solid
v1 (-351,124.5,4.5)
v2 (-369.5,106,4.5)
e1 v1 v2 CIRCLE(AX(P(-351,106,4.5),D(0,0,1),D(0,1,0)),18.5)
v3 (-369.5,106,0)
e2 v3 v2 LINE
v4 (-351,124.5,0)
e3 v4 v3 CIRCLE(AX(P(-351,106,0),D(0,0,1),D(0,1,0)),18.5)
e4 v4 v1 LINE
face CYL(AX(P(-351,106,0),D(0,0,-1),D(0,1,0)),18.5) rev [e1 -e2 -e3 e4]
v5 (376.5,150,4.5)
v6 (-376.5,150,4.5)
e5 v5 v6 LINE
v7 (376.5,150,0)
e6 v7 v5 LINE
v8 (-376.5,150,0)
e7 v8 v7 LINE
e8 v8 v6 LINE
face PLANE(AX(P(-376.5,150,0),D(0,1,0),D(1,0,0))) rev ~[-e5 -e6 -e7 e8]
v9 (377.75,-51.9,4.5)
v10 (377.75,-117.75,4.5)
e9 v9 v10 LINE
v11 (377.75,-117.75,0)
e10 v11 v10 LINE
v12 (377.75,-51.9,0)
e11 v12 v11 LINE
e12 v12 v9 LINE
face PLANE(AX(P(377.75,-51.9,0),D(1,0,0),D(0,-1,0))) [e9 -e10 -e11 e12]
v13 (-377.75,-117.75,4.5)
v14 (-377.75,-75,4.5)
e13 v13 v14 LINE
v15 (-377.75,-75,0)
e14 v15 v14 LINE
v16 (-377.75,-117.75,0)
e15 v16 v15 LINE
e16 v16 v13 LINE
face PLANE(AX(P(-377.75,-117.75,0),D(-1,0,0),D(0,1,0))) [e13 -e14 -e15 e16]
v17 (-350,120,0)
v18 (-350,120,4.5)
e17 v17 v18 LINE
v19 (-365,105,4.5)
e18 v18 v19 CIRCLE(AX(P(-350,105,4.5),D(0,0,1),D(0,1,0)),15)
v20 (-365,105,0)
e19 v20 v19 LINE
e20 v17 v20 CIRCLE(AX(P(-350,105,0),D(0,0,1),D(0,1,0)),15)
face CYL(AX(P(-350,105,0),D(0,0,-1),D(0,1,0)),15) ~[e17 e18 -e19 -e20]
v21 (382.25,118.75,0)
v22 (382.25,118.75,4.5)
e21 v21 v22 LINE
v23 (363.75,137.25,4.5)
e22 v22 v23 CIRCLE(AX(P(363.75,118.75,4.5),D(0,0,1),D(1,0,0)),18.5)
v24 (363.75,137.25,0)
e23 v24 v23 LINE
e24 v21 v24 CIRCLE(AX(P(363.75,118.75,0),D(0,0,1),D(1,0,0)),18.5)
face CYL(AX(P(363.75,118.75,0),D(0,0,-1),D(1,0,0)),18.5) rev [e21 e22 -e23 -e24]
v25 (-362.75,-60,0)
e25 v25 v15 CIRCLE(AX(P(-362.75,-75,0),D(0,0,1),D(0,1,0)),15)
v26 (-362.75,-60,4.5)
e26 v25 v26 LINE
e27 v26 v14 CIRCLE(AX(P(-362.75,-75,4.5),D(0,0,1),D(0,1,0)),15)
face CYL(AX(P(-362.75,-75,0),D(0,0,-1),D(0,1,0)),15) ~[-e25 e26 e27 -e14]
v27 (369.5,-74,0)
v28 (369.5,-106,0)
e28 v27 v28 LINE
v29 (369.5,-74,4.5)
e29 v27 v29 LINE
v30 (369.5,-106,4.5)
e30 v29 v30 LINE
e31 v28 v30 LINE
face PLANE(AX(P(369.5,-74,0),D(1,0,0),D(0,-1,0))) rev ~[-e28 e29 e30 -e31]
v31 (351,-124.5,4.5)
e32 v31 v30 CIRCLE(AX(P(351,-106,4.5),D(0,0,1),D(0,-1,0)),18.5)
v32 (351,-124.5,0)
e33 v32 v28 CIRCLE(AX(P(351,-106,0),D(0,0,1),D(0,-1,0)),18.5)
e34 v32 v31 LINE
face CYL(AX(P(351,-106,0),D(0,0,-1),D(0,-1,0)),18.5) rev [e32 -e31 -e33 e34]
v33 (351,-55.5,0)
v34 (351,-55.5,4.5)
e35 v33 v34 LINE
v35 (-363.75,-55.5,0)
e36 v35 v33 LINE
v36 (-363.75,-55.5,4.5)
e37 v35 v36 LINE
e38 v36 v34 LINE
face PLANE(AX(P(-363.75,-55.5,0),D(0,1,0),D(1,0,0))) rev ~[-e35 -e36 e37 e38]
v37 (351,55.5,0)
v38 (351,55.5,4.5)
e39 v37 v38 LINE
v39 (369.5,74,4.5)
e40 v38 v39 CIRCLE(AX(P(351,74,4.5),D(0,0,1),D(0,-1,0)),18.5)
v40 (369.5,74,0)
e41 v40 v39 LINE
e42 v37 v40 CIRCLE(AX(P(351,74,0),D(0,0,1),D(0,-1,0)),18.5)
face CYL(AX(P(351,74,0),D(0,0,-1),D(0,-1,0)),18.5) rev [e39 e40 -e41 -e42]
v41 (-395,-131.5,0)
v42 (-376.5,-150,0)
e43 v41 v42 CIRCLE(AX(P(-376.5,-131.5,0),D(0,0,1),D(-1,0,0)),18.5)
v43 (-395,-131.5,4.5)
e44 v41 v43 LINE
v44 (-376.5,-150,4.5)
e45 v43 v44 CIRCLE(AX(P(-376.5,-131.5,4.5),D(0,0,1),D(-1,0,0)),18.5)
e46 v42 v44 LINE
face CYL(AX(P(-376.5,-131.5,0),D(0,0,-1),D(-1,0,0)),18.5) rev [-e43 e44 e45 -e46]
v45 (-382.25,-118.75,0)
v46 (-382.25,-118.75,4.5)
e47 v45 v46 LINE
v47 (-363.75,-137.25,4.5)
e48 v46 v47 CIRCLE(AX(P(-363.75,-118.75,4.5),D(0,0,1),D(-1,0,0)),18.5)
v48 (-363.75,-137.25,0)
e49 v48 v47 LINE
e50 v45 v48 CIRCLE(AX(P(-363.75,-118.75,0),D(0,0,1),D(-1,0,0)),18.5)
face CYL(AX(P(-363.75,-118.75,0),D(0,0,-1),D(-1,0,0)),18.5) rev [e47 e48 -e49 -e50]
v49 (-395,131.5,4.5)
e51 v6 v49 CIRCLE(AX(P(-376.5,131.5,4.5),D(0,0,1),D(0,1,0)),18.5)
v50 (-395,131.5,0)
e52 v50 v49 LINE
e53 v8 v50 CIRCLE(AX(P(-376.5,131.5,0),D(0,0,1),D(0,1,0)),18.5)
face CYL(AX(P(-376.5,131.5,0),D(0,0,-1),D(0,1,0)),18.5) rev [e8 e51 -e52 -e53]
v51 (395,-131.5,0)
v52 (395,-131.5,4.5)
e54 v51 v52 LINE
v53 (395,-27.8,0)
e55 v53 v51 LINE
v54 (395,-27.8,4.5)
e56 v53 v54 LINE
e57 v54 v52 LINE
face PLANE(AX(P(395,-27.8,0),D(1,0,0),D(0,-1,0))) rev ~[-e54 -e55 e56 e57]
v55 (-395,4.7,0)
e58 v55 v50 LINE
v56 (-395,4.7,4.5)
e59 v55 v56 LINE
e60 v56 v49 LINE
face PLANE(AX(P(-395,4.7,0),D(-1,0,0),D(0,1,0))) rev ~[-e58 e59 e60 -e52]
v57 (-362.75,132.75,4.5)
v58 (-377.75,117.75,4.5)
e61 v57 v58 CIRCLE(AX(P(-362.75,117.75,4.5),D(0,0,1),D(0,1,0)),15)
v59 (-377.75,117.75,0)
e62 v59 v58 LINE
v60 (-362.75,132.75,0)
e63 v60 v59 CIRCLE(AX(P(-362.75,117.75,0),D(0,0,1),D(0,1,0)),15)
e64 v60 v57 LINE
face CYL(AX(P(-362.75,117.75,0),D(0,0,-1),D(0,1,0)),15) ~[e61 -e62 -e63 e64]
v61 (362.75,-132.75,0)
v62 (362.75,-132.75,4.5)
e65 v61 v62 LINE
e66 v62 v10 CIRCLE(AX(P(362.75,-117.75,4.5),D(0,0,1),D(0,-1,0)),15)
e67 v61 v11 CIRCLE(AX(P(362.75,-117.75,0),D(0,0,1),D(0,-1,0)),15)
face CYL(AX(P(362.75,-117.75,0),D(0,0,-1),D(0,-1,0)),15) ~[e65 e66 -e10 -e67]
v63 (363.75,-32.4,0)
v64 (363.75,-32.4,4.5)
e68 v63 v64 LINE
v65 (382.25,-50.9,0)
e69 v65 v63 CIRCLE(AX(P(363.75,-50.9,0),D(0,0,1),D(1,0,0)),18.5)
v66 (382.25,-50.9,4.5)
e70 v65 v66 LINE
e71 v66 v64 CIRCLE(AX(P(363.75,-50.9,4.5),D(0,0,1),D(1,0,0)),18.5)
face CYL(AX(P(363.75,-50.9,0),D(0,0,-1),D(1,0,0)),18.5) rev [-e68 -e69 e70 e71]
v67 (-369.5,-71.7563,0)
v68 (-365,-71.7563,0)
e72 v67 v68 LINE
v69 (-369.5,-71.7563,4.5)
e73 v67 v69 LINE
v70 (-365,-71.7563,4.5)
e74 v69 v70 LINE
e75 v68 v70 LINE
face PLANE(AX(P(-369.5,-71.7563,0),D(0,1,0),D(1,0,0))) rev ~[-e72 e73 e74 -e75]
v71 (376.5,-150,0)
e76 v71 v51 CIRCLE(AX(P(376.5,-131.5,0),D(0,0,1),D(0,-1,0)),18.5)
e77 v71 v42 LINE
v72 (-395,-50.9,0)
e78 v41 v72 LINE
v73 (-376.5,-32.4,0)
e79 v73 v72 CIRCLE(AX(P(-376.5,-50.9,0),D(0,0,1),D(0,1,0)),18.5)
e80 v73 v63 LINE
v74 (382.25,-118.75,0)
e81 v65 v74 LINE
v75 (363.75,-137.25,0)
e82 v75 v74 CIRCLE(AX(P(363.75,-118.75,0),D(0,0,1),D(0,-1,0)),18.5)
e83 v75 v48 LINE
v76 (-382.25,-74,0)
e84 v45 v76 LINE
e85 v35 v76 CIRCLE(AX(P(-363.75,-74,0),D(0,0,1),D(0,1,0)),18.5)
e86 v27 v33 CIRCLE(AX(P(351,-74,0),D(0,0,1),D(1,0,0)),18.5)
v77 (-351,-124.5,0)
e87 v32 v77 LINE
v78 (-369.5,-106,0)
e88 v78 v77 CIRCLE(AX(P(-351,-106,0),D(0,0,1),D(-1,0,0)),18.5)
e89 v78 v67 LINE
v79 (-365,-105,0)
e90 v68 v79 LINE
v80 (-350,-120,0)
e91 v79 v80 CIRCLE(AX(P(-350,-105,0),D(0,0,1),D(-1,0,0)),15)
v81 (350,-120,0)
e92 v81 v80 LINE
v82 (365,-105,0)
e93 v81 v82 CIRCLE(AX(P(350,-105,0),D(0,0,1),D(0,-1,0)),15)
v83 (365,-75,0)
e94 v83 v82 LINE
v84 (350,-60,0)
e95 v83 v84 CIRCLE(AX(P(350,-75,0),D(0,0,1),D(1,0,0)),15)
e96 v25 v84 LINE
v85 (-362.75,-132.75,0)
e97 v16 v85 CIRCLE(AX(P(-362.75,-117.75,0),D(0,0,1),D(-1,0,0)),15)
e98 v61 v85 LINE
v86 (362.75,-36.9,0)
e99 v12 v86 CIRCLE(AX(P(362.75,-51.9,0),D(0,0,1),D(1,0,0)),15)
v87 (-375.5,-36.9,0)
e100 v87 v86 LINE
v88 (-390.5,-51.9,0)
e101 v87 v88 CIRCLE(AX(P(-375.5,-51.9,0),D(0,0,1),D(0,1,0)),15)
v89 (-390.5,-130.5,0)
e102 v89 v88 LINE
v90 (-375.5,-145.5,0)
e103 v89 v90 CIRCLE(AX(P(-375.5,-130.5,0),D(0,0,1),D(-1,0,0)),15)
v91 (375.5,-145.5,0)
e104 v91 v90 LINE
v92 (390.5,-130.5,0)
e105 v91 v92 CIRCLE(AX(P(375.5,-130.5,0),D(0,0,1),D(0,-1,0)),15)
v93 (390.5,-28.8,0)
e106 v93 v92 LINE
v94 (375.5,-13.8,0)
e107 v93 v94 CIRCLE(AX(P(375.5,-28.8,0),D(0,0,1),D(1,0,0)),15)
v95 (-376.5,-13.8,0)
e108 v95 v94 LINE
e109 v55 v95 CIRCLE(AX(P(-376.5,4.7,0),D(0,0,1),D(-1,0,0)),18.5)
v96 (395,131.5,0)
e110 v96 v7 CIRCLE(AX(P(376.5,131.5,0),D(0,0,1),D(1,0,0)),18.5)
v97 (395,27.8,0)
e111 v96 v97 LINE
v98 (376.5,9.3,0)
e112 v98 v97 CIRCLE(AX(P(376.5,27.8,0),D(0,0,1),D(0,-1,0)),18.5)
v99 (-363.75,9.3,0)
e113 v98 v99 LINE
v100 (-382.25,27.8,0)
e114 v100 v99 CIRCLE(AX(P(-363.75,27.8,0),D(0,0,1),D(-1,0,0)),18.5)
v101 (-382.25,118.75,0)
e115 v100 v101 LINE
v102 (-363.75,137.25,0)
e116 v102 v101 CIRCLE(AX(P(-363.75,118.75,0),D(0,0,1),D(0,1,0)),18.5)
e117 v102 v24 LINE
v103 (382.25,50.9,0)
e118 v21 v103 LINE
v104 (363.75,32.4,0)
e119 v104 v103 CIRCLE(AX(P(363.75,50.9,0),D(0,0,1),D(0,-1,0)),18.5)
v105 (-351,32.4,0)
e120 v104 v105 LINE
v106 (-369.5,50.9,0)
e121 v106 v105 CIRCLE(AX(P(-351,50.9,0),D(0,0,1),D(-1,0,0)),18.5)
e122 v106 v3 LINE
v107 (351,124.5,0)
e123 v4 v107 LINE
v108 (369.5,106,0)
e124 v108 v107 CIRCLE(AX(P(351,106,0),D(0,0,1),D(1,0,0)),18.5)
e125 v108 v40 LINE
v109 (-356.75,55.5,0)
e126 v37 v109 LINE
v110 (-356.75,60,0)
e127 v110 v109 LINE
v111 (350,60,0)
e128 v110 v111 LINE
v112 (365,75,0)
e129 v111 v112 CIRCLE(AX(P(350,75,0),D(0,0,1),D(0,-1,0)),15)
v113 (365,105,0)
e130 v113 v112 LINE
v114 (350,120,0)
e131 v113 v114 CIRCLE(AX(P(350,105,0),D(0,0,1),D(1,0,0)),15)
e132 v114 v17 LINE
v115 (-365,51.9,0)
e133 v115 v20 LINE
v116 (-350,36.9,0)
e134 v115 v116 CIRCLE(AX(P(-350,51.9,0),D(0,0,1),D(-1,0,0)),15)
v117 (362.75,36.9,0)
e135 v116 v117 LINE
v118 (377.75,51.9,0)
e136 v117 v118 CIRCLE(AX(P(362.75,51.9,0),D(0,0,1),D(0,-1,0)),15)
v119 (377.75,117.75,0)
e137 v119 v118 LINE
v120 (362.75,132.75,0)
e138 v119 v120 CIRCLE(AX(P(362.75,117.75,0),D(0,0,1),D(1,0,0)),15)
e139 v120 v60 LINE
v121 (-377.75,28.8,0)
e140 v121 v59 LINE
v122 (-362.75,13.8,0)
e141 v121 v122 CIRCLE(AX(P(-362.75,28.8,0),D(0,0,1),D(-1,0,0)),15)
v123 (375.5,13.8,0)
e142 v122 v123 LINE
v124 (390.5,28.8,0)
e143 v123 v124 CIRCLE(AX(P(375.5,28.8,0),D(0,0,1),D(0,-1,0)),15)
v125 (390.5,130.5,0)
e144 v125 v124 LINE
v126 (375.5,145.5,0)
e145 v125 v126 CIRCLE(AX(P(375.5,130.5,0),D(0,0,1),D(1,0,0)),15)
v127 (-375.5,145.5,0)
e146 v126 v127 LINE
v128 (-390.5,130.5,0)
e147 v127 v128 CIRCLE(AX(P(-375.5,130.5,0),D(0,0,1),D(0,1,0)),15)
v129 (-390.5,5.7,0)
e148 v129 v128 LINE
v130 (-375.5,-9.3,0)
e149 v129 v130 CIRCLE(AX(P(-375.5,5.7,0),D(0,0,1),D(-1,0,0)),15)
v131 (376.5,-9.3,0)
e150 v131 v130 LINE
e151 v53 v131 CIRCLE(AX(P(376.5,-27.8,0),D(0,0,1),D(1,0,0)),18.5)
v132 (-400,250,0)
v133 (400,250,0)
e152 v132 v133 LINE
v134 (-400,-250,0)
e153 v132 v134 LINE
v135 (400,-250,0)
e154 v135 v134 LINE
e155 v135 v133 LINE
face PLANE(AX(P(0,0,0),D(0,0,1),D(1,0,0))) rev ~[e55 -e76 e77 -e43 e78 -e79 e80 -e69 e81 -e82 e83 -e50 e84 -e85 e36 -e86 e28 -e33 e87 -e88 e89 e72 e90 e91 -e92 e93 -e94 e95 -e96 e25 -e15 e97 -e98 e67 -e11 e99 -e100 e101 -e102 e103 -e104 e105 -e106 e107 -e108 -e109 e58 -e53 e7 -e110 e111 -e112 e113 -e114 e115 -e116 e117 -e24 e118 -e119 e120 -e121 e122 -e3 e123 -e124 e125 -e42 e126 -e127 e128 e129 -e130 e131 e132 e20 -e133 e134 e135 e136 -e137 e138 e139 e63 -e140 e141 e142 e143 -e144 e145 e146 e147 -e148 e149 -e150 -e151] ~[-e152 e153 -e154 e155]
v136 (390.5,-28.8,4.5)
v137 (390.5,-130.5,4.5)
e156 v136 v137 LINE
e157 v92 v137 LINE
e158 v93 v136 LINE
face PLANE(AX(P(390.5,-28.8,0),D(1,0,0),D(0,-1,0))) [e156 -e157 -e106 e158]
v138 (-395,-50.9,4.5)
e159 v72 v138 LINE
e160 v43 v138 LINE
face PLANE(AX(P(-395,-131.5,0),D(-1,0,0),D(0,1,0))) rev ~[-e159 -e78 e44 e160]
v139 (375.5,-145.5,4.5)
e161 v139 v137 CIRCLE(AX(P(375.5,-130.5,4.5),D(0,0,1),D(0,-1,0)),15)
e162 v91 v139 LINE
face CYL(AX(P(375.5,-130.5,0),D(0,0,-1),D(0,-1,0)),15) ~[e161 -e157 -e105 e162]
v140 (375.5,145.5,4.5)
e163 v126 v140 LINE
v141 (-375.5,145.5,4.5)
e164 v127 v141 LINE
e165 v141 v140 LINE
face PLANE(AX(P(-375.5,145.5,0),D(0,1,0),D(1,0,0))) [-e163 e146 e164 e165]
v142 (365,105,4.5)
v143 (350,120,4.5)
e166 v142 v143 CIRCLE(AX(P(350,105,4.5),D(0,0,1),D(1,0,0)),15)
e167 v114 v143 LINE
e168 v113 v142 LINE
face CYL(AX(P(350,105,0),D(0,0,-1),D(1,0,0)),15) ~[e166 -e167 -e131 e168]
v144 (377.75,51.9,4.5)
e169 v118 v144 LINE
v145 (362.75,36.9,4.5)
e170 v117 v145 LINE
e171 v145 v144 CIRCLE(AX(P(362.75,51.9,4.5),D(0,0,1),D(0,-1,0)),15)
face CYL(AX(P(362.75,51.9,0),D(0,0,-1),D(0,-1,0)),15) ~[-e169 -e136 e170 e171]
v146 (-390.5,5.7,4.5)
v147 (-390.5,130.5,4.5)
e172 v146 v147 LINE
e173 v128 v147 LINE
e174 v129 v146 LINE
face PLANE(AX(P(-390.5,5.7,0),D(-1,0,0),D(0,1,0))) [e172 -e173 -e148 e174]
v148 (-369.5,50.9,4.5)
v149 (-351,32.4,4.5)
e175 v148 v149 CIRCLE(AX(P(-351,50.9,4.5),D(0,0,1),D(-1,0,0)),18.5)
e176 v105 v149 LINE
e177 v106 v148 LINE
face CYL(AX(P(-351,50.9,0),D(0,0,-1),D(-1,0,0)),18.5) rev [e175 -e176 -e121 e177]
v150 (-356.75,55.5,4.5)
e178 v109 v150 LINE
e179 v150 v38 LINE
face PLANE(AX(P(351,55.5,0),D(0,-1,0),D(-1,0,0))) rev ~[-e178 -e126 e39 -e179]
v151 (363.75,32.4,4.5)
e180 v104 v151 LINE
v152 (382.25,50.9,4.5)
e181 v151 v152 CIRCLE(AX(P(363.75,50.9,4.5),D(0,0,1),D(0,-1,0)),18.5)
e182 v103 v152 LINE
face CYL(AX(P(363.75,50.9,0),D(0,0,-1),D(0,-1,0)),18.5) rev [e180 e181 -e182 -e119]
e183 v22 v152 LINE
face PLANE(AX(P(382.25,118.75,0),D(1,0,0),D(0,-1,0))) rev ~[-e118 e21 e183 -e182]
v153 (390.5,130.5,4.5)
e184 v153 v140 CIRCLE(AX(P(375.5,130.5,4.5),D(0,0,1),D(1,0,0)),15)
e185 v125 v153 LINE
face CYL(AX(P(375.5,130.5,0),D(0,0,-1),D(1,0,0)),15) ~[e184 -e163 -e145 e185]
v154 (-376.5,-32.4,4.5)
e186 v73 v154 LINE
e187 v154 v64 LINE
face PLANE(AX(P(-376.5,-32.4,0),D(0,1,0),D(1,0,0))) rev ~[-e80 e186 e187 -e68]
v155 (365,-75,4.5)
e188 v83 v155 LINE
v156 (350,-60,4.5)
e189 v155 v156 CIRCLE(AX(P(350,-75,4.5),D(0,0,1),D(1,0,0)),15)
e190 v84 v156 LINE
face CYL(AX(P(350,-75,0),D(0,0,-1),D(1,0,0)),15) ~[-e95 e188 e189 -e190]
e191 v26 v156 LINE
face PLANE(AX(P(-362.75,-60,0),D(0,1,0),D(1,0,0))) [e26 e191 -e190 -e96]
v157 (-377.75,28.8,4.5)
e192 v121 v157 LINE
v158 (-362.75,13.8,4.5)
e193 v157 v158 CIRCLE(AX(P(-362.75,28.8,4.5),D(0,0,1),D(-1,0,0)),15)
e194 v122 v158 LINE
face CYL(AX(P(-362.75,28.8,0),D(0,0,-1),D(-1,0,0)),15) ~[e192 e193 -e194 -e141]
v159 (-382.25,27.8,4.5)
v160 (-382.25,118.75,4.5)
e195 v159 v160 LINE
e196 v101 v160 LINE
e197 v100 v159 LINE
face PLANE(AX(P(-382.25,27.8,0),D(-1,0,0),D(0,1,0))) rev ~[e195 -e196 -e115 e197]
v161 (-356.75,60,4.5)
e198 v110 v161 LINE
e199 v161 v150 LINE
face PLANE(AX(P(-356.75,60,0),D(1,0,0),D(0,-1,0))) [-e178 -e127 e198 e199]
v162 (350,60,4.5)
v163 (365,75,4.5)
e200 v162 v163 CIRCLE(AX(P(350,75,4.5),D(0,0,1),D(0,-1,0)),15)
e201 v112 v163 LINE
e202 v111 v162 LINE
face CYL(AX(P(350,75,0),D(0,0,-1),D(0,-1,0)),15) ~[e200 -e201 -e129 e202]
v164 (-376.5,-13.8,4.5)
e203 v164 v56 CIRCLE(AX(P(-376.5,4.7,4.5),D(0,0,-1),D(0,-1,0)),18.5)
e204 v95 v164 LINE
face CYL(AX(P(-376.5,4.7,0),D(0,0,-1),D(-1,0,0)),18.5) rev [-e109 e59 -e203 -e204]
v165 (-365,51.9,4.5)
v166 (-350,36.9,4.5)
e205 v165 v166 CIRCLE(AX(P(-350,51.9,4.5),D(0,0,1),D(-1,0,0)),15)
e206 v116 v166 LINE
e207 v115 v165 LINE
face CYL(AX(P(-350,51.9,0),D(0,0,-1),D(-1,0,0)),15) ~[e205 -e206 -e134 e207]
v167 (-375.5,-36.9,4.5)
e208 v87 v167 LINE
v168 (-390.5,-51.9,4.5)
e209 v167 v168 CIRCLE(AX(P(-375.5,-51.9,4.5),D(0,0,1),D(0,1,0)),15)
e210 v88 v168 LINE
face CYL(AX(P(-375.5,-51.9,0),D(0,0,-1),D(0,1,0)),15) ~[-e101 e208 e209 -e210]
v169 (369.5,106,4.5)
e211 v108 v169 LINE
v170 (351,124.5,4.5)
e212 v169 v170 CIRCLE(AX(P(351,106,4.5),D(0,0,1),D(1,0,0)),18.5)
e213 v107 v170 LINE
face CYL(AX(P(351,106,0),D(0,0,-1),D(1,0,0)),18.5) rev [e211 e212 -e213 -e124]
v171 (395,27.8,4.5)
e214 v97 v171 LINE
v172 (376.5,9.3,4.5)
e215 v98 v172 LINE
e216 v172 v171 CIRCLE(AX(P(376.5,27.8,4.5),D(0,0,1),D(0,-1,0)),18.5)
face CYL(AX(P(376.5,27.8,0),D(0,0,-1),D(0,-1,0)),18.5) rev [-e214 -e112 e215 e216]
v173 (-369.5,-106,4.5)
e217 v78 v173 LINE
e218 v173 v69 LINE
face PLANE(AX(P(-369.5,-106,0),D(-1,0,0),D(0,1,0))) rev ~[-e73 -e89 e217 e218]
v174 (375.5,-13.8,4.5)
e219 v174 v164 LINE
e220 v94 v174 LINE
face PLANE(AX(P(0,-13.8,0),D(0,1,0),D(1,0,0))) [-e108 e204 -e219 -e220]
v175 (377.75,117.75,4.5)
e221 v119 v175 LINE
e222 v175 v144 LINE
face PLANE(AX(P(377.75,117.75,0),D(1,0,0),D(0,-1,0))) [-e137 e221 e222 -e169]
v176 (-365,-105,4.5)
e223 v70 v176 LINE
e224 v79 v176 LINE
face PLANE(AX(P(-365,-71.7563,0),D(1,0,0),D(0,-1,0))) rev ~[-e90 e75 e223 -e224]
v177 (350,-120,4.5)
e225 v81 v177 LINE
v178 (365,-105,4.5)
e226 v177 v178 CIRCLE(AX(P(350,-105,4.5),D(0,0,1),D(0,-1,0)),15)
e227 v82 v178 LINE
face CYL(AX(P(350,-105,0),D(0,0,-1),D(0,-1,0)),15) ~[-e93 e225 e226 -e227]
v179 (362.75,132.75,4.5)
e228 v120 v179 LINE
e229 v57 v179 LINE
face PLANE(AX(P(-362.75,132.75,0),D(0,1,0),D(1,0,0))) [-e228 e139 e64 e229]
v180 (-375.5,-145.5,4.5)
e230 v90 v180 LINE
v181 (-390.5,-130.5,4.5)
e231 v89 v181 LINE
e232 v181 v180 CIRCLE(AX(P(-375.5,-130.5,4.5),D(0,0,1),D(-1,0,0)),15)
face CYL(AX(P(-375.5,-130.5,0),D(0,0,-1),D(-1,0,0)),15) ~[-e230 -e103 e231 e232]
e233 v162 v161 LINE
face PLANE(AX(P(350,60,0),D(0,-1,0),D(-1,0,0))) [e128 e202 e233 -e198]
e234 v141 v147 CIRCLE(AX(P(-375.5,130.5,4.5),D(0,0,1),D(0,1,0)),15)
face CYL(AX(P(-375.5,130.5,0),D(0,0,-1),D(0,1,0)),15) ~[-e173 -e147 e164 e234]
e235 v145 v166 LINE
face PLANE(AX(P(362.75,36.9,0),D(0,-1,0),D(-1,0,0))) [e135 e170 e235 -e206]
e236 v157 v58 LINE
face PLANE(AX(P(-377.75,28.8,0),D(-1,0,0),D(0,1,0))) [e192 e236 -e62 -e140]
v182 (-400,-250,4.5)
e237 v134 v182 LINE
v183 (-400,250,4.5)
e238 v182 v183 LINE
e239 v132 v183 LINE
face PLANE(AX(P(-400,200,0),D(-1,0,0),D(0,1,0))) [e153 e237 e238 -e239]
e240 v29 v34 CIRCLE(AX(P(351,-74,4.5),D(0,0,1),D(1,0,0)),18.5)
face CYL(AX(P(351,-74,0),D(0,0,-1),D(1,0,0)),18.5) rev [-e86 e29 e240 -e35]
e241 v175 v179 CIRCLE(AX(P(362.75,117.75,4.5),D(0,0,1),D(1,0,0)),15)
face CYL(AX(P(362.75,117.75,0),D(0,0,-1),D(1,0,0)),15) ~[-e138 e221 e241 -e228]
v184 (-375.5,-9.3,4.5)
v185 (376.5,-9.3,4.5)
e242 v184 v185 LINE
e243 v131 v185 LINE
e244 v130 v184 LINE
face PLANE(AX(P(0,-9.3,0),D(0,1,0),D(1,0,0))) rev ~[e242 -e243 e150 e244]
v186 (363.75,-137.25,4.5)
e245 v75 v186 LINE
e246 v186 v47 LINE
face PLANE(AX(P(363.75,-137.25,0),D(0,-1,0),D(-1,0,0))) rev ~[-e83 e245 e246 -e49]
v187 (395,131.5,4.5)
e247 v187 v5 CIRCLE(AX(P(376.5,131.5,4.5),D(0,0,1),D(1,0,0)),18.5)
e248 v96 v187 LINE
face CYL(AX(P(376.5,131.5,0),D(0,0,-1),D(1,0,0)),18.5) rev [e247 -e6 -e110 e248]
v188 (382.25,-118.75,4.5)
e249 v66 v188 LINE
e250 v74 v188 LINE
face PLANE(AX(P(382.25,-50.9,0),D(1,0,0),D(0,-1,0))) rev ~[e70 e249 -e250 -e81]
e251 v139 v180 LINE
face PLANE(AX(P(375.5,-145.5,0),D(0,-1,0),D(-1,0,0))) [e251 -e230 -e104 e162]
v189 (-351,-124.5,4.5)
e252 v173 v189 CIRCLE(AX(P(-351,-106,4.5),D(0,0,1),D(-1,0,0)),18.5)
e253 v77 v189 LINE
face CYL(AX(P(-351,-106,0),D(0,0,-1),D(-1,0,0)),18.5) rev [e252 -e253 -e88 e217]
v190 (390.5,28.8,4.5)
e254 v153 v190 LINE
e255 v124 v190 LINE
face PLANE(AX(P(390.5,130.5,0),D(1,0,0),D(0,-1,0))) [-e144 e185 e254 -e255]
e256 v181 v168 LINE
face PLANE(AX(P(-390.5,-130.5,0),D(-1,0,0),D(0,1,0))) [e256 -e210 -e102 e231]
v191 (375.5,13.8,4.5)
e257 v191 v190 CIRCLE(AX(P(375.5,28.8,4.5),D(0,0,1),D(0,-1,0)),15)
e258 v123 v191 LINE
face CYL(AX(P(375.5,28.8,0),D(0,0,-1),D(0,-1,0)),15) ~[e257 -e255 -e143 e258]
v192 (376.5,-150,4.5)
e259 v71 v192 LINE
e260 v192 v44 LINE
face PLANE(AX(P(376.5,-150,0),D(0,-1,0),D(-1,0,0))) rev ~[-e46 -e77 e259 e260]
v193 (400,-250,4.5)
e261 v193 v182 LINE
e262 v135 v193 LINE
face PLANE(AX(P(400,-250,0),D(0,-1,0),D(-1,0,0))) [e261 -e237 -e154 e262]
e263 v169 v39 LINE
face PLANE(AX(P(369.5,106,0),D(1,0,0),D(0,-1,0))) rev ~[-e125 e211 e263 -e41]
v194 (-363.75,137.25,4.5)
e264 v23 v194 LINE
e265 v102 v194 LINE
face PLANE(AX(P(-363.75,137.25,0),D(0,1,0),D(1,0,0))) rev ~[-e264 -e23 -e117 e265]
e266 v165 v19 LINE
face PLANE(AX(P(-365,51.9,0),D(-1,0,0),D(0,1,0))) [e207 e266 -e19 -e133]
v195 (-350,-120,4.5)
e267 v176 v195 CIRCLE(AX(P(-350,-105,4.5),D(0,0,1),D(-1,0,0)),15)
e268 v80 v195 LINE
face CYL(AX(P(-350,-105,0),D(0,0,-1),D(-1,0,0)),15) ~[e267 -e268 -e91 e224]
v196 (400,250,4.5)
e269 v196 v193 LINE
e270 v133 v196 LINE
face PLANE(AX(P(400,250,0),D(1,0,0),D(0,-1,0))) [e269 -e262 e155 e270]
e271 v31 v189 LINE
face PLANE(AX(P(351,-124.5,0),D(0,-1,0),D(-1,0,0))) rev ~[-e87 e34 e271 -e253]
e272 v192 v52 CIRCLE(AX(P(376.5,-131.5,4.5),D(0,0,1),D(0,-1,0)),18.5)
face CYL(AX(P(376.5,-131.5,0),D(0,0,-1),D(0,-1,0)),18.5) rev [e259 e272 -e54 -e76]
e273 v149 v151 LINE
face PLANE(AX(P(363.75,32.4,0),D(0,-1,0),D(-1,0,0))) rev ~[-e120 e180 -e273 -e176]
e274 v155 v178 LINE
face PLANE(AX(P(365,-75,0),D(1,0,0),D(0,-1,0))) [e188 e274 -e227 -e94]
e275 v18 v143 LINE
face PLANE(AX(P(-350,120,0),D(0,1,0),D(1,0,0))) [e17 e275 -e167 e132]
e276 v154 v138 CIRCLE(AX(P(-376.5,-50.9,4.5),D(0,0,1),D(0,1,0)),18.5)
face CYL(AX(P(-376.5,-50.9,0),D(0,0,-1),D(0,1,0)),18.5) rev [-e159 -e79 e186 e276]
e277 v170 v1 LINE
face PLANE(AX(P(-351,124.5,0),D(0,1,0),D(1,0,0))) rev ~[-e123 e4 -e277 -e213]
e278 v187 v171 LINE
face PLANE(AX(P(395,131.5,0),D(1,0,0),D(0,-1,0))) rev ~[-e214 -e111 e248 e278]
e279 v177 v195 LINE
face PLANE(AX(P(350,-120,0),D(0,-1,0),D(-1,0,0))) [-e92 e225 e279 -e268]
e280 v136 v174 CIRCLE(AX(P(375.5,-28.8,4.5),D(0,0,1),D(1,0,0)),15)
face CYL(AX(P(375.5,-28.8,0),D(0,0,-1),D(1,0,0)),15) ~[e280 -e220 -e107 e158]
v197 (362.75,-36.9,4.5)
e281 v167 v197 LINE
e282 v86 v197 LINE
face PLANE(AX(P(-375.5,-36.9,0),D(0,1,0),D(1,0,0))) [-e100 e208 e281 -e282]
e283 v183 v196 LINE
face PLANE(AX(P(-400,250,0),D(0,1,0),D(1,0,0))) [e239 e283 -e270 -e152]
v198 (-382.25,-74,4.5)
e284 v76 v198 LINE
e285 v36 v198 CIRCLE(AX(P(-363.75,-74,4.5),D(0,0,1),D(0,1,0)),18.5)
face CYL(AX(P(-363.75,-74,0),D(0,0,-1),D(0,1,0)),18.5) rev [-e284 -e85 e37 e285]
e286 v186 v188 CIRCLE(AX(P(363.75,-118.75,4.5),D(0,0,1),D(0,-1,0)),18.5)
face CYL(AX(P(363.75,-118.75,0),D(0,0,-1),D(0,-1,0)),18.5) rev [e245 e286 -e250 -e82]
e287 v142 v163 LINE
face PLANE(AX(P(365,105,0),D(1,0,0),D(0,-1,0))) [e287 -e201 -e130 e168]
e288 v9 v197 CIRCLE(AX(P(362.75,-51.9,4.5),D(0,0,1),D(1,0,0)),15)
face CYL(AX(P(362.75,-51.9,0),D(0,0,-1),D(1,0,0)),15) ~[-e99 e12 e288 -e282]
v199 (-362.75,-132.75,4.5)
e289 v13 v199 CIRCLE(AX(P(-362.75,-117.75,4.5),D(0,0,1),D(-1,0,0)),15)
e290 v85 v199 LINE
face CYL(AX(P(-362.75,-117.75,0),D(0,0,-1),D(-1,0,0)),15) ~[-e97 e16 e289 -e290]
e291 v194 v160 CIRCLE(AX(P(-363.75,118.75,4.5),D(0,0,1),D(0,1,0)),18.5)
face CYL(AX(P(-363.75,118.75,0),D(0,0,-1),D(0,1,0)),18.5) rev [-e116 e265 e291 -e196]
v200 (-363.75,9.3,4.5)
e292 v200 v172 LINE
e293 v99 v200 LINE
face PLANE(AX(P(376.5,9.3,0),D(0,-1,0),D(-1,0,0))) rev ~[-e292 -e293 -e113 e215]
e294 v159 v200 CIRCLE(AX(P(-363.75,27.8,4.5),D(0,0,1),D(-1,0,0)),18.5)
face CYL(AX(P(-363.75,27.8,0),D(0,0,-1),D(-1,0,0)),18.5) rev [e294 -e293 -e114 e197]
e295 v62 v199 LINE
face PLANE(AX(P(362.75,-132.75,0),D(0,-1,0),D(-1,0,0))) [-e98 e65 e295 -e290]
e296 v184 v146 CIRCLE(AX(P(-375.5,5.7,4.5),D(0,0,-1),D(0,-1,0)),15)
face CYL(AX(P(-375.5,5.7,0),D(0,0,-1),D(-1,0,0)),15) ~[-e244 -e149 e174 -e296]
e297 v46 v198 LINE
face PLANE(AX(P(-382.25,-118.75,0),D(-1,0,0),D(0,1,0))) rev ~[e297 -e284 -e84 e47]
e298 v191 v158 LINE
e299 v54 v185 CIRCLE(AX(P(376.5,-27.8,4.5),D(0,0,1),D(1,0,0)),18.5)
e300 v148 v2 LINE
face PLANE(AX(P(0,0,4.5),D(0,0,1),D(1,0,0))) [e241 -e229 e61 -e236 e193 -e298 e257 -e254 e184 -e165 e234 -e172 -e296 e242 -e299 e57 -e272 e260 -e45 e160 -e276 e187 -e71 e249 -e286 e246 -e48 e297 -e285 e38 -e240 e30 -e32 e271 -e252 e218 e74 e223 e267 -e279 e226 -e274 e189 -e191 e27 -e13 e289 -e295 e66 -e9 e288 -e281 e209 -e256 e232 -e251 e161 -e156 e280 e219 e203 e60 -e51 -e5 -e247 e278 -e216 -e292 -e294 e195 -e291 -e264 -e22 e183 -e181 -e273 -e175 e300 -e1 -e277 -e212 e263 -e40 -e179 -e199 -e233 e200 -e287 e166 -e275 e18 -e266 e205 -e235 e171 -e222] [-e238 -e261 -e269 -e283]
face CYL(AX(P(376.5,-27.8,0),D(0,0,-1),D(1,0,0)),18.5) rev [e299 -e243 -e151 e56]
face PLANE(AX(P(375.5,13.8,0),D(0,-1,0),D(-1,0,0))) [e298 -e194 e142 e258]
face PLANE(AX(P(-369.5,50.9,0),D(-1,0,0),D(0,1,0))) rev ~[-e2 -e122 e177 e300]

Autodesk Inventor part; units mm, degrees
ref_plane "YZ Plane" through (0, 0, 0) normal (1, 0, 0) x (0, 1, 0)
ref_plane "XZ Plane" through (0, 0, 0) normal (0, 1, 0) x (-1, 0, 0)
ref_plane "XY Plane" through (0, 0, 0) normal (0, 0, 1) x (1, 0, 0)
sketch "layer_layout_sketch" plane through (0, 0, 0) normal (0, 0, 1) x (1, 0, 0)
  line L0 (-400, 250) -> (400, 250)
  line L1 (400, 250) -> (400, -250)
  line L2 (400, -250) -> (-400, -250)
  line L3 (-400, -250) -> (-400, 250)
  line L4 (0, 250) -> (0, -250) construction
  line L5 (-400, 200) -> (400, 200)
  line L6 (400, 200) -> (400, -200)
  line L7 (400, -200) -> (-400, -200)
  line L8 (-400, -200) -> (-400, 200)
  line L9 (0, 200) -> (0, -200) construction
  line L10 (-400, 150) -> (400, 150)
  line L11 (400, 150) -> (400, -150)
  line L12 (400, -150) -> (-400, -150)
  line L13 (-400, -150) -> (-400, 150)
  line L14 (0, 150) -> (0, -150) construction
  point P0 (0, 0)
  point P1 (0, 0)
  dimension "d116" = 500
  dimension "d117" = 800
  dimension "d122" = 400
  dimension "d123" = 300
sketch "coil_layer_sketch_lower" plane through (0, 0, 0) normal (0, 0, 1) x (1, 0, 0)
  line L0 (0, -9.3) -> (376.5, -9.3)
  line L1 (395, -27.8) -> (395, -131.5)
  line L2 (376.5, -150) -> (-376.5, -150)
  line L3 (-395, -131.5) -> (-395, -50.9)
  line L4 (0, -9.3) -> (0, -13.8)
  line L5 (0, -13.8) -> (375.5, -13.8)
  line L6 (390.5, -28.8) -> (390.5, -130.5)
  line L7 (375.5, -145.5) -> (-375.5, -145.5)
  line L8 (-376.5, -32.4) -> (363.75, -32.4)
  line L9 (382.25, -50.9) -> (382.25, -118.75)
  line L10 (363.75, -137.25) -> (-363.75, -137.25)
  line L11 (-390.5, -130.5) -> (-390.5, -51.9)
  line L12 (-375.5, -36.9) -> (362.75, -36.9)
  line L13 (377.75, -51.9) -> (377.75, -117.75)
  line L14 (362.75, -132.75) -> (-362.75, -132.75)
  line L15 (-377.75, -117.75) -> (-377.75, -75)
  line L16 (-382.25, -118.75) -> (-382.25, -74)
  line L17 (-363.75, -55.5) -> (351, -55.5)
  line L18 (369.5, -74) -> (369.5, -106)
  line L19 (-362.75, -60) -> (350, -60)
  line L20 (365, -75) -> (365, -105)
  line L21 (-558.3641, 0) -> (558.3641, 0) projected
  line L22 (350, -120) -> (-350, -120)
  line L23 (351, -124.5) -> (-351, -124.5)
  line L24 (-369.5, -106) -> (-369.5, -71.7563)
  line L25 (-369.5, -71.7563) -> (-365, -71.7563)
  line L26 (-365, -71.7563) -> (-365, -105)
  arc A0 (395, -27.8) -> (376.5, -9.3) centre (376.5, -27.8) ccw
  arc A1 (382.25, -50.9) -> (363.75, -32.4) centre (363.75, -50.9) ccw
  arc A2 (369.5, -74) -> (351, -55.5) centre (351, -74) ccw
  arc A3 (351, -124.5) -> (369.5, -106) centre (351, -106) ccw
  arc A4 (363.75, -137.25) -> (382.25, -118.75) centre (363.75, -118.75) ccw
  arc A5 (376.5, -150) -> (395, -131.5) centre (376.5, -131.5) ccw
  arc A6 (-395, -131.5) -> (-376.5, -150) centre (-376.5, -131.5) ccw
  arc A7 (-382.25, -118.75) -> (-363.75, -137.25) centre (-363.75, -118.75) ccw
  arc A8 (-369.5, -106) -> (-351, -124.5) centre (-351, -106) ccw
  arc A9 (-376.5, -32.4) -> (-395, -50.9) centre (-376.5, -50.9) ccw
  arc A10 (-363.75, -55.5) -> (-382.25, -74) centre (-363.75, -74) ccw
  arc A11 (-375.5, -36.9) -> (-390.5, -51.9) centre (-375.5, -51.9) ccw
  arc A12 (-362.75, -60) -> (-377.75, -75) centre (-362.75, -75) ccw
  arc A13 (-390.5, -130.5) -> (-375.5, -145.5) centre (-375.5, -130.5) ccw
  arc A14 (-377.75, -117.75) -> (-362.75, -132.75) centre (-362.75, -117.75) ccw
  arc A15 (-365, -105) -> (-350, -120) centre (-350, -105) ccw
  arc A16 (350, -120) -> (365, -105) centre (350, -105) ccw
  arc A17 (362.75, -132.75) -> (377.75, -117.75) centre (362.75, -117.75) ccw
  arc A18 (375.5, -145.5) -> (390.5, -130.5) centre (375.5, -130.5) ccw
  arc A19 (377.75, -51.9) -> (362.75, -36.9) centre (362.75, -51.9) ccw
  arc A20 (390.5, -28.8) -> (375.5, -13.8) centre (375.5, -28.8) ccw
  arc A21 (365, -75) -> (350, -60) centre (350, -75) ccw
  point P0 (0, 0)
  point P1 (0, 0)
  point P2 (368.0934, -60)
  point P3 (370, -61.9066)
  point P4 (0, -150)
  dimension "d1" = 4.5
  dimension "d2" = 4.5
  dimension "d3" = 4.5
  dimension "d4" = 9.3
  dimension "d5" = 790
  dimension "d6" = 395
  dimension "d7" = 4.5
  dimension "d8" = 4.5
  dimension "d9" = 8.25
  dimension "d10" = 4.5
  dimension "d11" = 18.6
  dimension "d12" = 4.5
  dimension "d13" = 8.25
  dimension "d14" = 4.5
  dimension "d15" = 4.5
  dimension "d16" = 4.5
  dimension "d17" = 8.25
  dimension "d19" = 18.6
  dimension "d20" = 8.25
  dimension "d82" = 150
  dimension "d88" = 4.5
  dimension "d89" = 8.25
  dimension "d96" = 4.5
  dimension "d97" = 8.25
  dimension "d98" = 18.5
  dimension "d99" = 15
  dimension "d109" = 15
sketch "coil_layer_sketch_upper" plane through (0, 0, 0) normal (0, 0, 1) x (1, 0, 0)
  line L0 (0, -13.8) -> (-376.5, -13.8)
  line L1 (-395, 4.7) -> (-395, 131.5)
  line L2 (-376.5, 150) -> (376.5, 150)
  line L3 (395, 131.5) -> (395, 27.8)
  line L4 (0, -9.3) -> (-375.5, -9.3)
  line L5 (-390.5, 5.7) -> (-390.5, 130.5)
  line L6 (-375.5, 145.5) -> (375.5, 145.5)
  line L7 (390.5, 130.5) -> (390.5, 28.8)
  line L8 (375.5, 13.8) -> (-362.75, 13.8)
  line L9 (-377.75, 28.8) -> (-377.75, 117.75)
  line L10 (376.5, 9.3) -> (-363.75, 9.3)
  line L11 (-382.25, 27.8) -> (-382.25, 118.75)
  line L12 (-362.75, 132.75) -> (362.75, 132.75)
  line L13 (-363.75, 137.25) -> (363.75, 137.25)
  line L14 (377.75, 117.75) -> (377.75, 51.9)
  line L15 (362.75, 36.9) -> (-350, 36.9)
  line L16 (382.25, 118.75) -> (382.25, 50.9)
  line L17 (363.75, 32.4) -> (-351, 32.4)
  line L18 (-365, 51.9) -> (-365, 105)
  line L19 (-350, 120) -> (350, 120)
  line L20 (365, 105) -> (365, 75)
  line L21 (350, 60) -> (-356.75, 60)
  line L22 (-369.5, 50.9) -> (-369.5, 106)
  line L23 (-351, 124.5) -> (351, 124.5)
  line L24 (369.5, 106) -> (369.5, 74)
  line L25 (351, 55.5) -> (-356.75, 55.5)
  line L26 (-356.75, 60) -> (-356.75, 55.5)
  line L27 (-700, 0) -> (700, 0)
  line L28 (-980, 0) -> (980, 0) projected
  line L29 (0, -13.8) -> (0, -9.3)
  line L30 (0, -51.9241) -> (0, 188.1241) projected
  arc A0 (365, 105) -> (350, 120) centre (350, 105) ccw
  arc A1 (350, 60) -> (365, 75) centre (350, 75) ccw
  arc A2 (377.75, 117.75) -> (362.75, 132.75) centre (362.75, 117.75) ccw
  arc A3 (362.75, 36.9) -> (377.75, 51.9) centre (362.75, 51.9) ccw
  arc A4 (390.5, 130.5) -> (375.5, 145.5) centre (375.5, 130.5) ccw
  arc A5 (375.5, 13.8) -> (390.5, 28.8) centre (375.5, 28.8) ccw
  arc A6 (-350, 120) -> (-365, 105) centre (-350, 105) ccw
  arc A7 (-365, 51.9) -> (-350, 36.9) centre (-350, 51.9) ccw
  arc A8 (-377.75, 28.8) -> (-362.75, 13.8) centre (-362.75, 28.8) ccw
  arc A9 (-390.5, 5.7) -> (-375.5, -9.3) centre (-375.5, 5.7) ccw
  arc A10 (-362.75, 132.75) -> (-377.75, 117.75) centre (-362.75, 117.75) ccw
  arc A11 (-375.5, 145.5) -> (-390.5, 130.5) centre (-375.5, 130.5) ccw
  arc A12 (-376.5, 150) -> (-395, 131.5) centre (-376.5, 131.5) ccw
  arc A13 (-363.75, 137.25) -> (-382.25, 118.75) centre (-363.75, 118.75) ccw
  arc A14 (-351, 124.5) -> (-369.5, 106) centre (-351, 106) ccw
  arc A15 (-369.5, 50.9) -> (-351, 32.4) centre (-351, 50.9) ccw
  arc A16 (-382.25, 27.8) -> (-363.75, 9.3) centre (-363.75, 27.8) ccw
  arc A17 (-395, 4.7) -> (-376.5, -13.8) centre (-376.5, 4.7) ccw
  arc A18 (351, 55.5) -> (369.5, 74) centre (351, 74) ccw
  arc A19 (363.75, 32.4) -> (382.25, 50.9) centre (363.75, 50.9) ccw
  arc A20 (376.5, 9.3) -> (395, 27.8) centre (376.5, 27.8) ccw
  arc A21 (395, 131.5) -> (376.5, 150) centre (376.5, 131.5) ccw
  arc A22 (382.25, 118.75) -> (363.75, 137.25) centre (363.75, 118.75) ccw
  arc A23 (369.5, 106) -> (351, 124.5) centre (351, 106) ccw
  point P0 (0, 0)
  point P1 (395, 9.3)
  point P2 (-382.25, 9.3)
  point P3 (0, 150)
  point P4 (-700, 0)
  point P5 (700, 0)
  point P6 (0, 150)
  dimension "d58" = 4.5
  dimension "d59" = 4.5
  dimension "d60" = 4.5
  dimension "d61" = 8.25
  dimension "d62" = 8.25
  dimension "d64" = 4.5
  dimension "d65" = 4.5
  dimension "d66" = 4.5
  dimension "d67" = 8.25
  dimension "d69" = 18.6
  dimension "d70" = 4.5
  dimension "d71" = 4.5
  dimension "d72" = 18.6
  dimension "d73" = 8.25
  dimension "d74" = 8.25
  dimension "d75" = 4.5
  dimension "d77" = 18.6
  dimension "d78" = 4.5
  dimension "d79" = 4.5
  dimension "d80" = 4.5
  dimension "d83" = 150
  dimension "d87" = 8.25
  dimension "d91" = 4.5
  dimension "d92" = 9.3
  dimension "d93" = 790
  dimension "d100" = 15
  dimension "d101" = 18.5
  dimension "d102" = 8.25
extrude "layer_sheet Extrude" add sketch "layer_layout_sketch" along normal blind 4.5
extrude "wire_holes_upper Cut" cut sketch "coil_layer_sketch_upper" along normal blind 4.5 contours L0 A17 L27 A9 L4 L29 | A17 L1 A12 L2 L30 L6 A11 L5 A9 L27 | L30 L8 A5 L7 A4 L6 L2 A21 L3 A20 L10 | L10 A16 L11 A13 L13 L30 L12 A10 L9 A8 L8 | L30 L15 A3 L14 A2 L12 L13 A22 L16 A19 L17 | L17 A15 L22 A14 L23 L30 L19 A6 L18 A7 L15 | L30 L21 A1 L20 A0 L19 L23 A23 L24 A18 L25 | L25 L26 L21 L30
extrude "wire_holes_lower Cut" cut sketch "coil_layer_sketch_lower" along normal blind 4.5
equation "\"d1\" = wire_diameter"
equation "\"d2\" = wire_diameter"
equation "\"d3\" = wire_diameter"
equation "\"d4\" = 0.5 * distance_between_wires"
equation "\"d6\" = 0.5 * track_length"
equation "\"d7\" = wire_diameter"
equation "\"d8\" = wire_diameter"
equation "\"d9\" = distance_between_wires_edge"
equation "\"d10\" = wire_diameter"
equation "\"d11\" = distance_between_wires"
equation "\"d12\" = wire_diameter"
equation "\"d13\" = distance_between_wires_edge"
equation "\"d14\" = wire_diameter"
equation "\"d15\" = wire_diameter"
equation "\"d16\" = wire_diameter"
equation "\"d17\" = distance_between_wires_edge"
equation "\"d19\" = distance_between_wires"
equation "\"d20\" = distance_between_wires_edge"
equation "\"d82\" = 0.5 * track_width"
equation "\"d58\" = wire_diameter"
equation "\"d59\" = wire_diameter"
equation "\"d60\" = wire_diameter"
equation "\"d61\" = distance_between_wires_edge"
equation "\"d62\" = distance_between_wires_edge"
equation "\"d64\" = wire_diameter"
equation "\"d65\" = wire_diameter"
equation "\"d66\" = wire_diameter"
equation "\"d67\" = distance_between_wires_edge"
equation "\"d69\" = distance_between_wires"
equation "\"d70\" = wire_diameter"
equation "\"d71\" = wire_diameter"
equation "\"d72\" = distance_between_wires"
equation "\"d73\" = distance_between_wires_edge"
equation "\"d74\" = distance_between_wires_edge"
equation "\"d75\" = wire_diameter"
equation "\"d77\" = distance_between_wires"
equation "\"d78\" = wire_diameter"
equation "\"d79\" = wire_diameter"
equation "\"d80\" = wire_diameter"
equation "\"d83\" = 0.5 * track_width"
equation "\"wire_diameter\" = 4.5"
equation "\"distance_between_wires\" = -1.2 * wire_diameter + 0.2 * parameter_6"
equation "\"distance_between_wires_edge\" = 8.25"
equation "\"bend_radius_inner\" = 15"
equation "\"bend_radius_outer\" = 18.5"
equation "\"track_width\" = 300"
equation "\"parameter_6\" = 120"
equation "\"track_length\" = 790"
properties part number "primary_coil_0R2"
